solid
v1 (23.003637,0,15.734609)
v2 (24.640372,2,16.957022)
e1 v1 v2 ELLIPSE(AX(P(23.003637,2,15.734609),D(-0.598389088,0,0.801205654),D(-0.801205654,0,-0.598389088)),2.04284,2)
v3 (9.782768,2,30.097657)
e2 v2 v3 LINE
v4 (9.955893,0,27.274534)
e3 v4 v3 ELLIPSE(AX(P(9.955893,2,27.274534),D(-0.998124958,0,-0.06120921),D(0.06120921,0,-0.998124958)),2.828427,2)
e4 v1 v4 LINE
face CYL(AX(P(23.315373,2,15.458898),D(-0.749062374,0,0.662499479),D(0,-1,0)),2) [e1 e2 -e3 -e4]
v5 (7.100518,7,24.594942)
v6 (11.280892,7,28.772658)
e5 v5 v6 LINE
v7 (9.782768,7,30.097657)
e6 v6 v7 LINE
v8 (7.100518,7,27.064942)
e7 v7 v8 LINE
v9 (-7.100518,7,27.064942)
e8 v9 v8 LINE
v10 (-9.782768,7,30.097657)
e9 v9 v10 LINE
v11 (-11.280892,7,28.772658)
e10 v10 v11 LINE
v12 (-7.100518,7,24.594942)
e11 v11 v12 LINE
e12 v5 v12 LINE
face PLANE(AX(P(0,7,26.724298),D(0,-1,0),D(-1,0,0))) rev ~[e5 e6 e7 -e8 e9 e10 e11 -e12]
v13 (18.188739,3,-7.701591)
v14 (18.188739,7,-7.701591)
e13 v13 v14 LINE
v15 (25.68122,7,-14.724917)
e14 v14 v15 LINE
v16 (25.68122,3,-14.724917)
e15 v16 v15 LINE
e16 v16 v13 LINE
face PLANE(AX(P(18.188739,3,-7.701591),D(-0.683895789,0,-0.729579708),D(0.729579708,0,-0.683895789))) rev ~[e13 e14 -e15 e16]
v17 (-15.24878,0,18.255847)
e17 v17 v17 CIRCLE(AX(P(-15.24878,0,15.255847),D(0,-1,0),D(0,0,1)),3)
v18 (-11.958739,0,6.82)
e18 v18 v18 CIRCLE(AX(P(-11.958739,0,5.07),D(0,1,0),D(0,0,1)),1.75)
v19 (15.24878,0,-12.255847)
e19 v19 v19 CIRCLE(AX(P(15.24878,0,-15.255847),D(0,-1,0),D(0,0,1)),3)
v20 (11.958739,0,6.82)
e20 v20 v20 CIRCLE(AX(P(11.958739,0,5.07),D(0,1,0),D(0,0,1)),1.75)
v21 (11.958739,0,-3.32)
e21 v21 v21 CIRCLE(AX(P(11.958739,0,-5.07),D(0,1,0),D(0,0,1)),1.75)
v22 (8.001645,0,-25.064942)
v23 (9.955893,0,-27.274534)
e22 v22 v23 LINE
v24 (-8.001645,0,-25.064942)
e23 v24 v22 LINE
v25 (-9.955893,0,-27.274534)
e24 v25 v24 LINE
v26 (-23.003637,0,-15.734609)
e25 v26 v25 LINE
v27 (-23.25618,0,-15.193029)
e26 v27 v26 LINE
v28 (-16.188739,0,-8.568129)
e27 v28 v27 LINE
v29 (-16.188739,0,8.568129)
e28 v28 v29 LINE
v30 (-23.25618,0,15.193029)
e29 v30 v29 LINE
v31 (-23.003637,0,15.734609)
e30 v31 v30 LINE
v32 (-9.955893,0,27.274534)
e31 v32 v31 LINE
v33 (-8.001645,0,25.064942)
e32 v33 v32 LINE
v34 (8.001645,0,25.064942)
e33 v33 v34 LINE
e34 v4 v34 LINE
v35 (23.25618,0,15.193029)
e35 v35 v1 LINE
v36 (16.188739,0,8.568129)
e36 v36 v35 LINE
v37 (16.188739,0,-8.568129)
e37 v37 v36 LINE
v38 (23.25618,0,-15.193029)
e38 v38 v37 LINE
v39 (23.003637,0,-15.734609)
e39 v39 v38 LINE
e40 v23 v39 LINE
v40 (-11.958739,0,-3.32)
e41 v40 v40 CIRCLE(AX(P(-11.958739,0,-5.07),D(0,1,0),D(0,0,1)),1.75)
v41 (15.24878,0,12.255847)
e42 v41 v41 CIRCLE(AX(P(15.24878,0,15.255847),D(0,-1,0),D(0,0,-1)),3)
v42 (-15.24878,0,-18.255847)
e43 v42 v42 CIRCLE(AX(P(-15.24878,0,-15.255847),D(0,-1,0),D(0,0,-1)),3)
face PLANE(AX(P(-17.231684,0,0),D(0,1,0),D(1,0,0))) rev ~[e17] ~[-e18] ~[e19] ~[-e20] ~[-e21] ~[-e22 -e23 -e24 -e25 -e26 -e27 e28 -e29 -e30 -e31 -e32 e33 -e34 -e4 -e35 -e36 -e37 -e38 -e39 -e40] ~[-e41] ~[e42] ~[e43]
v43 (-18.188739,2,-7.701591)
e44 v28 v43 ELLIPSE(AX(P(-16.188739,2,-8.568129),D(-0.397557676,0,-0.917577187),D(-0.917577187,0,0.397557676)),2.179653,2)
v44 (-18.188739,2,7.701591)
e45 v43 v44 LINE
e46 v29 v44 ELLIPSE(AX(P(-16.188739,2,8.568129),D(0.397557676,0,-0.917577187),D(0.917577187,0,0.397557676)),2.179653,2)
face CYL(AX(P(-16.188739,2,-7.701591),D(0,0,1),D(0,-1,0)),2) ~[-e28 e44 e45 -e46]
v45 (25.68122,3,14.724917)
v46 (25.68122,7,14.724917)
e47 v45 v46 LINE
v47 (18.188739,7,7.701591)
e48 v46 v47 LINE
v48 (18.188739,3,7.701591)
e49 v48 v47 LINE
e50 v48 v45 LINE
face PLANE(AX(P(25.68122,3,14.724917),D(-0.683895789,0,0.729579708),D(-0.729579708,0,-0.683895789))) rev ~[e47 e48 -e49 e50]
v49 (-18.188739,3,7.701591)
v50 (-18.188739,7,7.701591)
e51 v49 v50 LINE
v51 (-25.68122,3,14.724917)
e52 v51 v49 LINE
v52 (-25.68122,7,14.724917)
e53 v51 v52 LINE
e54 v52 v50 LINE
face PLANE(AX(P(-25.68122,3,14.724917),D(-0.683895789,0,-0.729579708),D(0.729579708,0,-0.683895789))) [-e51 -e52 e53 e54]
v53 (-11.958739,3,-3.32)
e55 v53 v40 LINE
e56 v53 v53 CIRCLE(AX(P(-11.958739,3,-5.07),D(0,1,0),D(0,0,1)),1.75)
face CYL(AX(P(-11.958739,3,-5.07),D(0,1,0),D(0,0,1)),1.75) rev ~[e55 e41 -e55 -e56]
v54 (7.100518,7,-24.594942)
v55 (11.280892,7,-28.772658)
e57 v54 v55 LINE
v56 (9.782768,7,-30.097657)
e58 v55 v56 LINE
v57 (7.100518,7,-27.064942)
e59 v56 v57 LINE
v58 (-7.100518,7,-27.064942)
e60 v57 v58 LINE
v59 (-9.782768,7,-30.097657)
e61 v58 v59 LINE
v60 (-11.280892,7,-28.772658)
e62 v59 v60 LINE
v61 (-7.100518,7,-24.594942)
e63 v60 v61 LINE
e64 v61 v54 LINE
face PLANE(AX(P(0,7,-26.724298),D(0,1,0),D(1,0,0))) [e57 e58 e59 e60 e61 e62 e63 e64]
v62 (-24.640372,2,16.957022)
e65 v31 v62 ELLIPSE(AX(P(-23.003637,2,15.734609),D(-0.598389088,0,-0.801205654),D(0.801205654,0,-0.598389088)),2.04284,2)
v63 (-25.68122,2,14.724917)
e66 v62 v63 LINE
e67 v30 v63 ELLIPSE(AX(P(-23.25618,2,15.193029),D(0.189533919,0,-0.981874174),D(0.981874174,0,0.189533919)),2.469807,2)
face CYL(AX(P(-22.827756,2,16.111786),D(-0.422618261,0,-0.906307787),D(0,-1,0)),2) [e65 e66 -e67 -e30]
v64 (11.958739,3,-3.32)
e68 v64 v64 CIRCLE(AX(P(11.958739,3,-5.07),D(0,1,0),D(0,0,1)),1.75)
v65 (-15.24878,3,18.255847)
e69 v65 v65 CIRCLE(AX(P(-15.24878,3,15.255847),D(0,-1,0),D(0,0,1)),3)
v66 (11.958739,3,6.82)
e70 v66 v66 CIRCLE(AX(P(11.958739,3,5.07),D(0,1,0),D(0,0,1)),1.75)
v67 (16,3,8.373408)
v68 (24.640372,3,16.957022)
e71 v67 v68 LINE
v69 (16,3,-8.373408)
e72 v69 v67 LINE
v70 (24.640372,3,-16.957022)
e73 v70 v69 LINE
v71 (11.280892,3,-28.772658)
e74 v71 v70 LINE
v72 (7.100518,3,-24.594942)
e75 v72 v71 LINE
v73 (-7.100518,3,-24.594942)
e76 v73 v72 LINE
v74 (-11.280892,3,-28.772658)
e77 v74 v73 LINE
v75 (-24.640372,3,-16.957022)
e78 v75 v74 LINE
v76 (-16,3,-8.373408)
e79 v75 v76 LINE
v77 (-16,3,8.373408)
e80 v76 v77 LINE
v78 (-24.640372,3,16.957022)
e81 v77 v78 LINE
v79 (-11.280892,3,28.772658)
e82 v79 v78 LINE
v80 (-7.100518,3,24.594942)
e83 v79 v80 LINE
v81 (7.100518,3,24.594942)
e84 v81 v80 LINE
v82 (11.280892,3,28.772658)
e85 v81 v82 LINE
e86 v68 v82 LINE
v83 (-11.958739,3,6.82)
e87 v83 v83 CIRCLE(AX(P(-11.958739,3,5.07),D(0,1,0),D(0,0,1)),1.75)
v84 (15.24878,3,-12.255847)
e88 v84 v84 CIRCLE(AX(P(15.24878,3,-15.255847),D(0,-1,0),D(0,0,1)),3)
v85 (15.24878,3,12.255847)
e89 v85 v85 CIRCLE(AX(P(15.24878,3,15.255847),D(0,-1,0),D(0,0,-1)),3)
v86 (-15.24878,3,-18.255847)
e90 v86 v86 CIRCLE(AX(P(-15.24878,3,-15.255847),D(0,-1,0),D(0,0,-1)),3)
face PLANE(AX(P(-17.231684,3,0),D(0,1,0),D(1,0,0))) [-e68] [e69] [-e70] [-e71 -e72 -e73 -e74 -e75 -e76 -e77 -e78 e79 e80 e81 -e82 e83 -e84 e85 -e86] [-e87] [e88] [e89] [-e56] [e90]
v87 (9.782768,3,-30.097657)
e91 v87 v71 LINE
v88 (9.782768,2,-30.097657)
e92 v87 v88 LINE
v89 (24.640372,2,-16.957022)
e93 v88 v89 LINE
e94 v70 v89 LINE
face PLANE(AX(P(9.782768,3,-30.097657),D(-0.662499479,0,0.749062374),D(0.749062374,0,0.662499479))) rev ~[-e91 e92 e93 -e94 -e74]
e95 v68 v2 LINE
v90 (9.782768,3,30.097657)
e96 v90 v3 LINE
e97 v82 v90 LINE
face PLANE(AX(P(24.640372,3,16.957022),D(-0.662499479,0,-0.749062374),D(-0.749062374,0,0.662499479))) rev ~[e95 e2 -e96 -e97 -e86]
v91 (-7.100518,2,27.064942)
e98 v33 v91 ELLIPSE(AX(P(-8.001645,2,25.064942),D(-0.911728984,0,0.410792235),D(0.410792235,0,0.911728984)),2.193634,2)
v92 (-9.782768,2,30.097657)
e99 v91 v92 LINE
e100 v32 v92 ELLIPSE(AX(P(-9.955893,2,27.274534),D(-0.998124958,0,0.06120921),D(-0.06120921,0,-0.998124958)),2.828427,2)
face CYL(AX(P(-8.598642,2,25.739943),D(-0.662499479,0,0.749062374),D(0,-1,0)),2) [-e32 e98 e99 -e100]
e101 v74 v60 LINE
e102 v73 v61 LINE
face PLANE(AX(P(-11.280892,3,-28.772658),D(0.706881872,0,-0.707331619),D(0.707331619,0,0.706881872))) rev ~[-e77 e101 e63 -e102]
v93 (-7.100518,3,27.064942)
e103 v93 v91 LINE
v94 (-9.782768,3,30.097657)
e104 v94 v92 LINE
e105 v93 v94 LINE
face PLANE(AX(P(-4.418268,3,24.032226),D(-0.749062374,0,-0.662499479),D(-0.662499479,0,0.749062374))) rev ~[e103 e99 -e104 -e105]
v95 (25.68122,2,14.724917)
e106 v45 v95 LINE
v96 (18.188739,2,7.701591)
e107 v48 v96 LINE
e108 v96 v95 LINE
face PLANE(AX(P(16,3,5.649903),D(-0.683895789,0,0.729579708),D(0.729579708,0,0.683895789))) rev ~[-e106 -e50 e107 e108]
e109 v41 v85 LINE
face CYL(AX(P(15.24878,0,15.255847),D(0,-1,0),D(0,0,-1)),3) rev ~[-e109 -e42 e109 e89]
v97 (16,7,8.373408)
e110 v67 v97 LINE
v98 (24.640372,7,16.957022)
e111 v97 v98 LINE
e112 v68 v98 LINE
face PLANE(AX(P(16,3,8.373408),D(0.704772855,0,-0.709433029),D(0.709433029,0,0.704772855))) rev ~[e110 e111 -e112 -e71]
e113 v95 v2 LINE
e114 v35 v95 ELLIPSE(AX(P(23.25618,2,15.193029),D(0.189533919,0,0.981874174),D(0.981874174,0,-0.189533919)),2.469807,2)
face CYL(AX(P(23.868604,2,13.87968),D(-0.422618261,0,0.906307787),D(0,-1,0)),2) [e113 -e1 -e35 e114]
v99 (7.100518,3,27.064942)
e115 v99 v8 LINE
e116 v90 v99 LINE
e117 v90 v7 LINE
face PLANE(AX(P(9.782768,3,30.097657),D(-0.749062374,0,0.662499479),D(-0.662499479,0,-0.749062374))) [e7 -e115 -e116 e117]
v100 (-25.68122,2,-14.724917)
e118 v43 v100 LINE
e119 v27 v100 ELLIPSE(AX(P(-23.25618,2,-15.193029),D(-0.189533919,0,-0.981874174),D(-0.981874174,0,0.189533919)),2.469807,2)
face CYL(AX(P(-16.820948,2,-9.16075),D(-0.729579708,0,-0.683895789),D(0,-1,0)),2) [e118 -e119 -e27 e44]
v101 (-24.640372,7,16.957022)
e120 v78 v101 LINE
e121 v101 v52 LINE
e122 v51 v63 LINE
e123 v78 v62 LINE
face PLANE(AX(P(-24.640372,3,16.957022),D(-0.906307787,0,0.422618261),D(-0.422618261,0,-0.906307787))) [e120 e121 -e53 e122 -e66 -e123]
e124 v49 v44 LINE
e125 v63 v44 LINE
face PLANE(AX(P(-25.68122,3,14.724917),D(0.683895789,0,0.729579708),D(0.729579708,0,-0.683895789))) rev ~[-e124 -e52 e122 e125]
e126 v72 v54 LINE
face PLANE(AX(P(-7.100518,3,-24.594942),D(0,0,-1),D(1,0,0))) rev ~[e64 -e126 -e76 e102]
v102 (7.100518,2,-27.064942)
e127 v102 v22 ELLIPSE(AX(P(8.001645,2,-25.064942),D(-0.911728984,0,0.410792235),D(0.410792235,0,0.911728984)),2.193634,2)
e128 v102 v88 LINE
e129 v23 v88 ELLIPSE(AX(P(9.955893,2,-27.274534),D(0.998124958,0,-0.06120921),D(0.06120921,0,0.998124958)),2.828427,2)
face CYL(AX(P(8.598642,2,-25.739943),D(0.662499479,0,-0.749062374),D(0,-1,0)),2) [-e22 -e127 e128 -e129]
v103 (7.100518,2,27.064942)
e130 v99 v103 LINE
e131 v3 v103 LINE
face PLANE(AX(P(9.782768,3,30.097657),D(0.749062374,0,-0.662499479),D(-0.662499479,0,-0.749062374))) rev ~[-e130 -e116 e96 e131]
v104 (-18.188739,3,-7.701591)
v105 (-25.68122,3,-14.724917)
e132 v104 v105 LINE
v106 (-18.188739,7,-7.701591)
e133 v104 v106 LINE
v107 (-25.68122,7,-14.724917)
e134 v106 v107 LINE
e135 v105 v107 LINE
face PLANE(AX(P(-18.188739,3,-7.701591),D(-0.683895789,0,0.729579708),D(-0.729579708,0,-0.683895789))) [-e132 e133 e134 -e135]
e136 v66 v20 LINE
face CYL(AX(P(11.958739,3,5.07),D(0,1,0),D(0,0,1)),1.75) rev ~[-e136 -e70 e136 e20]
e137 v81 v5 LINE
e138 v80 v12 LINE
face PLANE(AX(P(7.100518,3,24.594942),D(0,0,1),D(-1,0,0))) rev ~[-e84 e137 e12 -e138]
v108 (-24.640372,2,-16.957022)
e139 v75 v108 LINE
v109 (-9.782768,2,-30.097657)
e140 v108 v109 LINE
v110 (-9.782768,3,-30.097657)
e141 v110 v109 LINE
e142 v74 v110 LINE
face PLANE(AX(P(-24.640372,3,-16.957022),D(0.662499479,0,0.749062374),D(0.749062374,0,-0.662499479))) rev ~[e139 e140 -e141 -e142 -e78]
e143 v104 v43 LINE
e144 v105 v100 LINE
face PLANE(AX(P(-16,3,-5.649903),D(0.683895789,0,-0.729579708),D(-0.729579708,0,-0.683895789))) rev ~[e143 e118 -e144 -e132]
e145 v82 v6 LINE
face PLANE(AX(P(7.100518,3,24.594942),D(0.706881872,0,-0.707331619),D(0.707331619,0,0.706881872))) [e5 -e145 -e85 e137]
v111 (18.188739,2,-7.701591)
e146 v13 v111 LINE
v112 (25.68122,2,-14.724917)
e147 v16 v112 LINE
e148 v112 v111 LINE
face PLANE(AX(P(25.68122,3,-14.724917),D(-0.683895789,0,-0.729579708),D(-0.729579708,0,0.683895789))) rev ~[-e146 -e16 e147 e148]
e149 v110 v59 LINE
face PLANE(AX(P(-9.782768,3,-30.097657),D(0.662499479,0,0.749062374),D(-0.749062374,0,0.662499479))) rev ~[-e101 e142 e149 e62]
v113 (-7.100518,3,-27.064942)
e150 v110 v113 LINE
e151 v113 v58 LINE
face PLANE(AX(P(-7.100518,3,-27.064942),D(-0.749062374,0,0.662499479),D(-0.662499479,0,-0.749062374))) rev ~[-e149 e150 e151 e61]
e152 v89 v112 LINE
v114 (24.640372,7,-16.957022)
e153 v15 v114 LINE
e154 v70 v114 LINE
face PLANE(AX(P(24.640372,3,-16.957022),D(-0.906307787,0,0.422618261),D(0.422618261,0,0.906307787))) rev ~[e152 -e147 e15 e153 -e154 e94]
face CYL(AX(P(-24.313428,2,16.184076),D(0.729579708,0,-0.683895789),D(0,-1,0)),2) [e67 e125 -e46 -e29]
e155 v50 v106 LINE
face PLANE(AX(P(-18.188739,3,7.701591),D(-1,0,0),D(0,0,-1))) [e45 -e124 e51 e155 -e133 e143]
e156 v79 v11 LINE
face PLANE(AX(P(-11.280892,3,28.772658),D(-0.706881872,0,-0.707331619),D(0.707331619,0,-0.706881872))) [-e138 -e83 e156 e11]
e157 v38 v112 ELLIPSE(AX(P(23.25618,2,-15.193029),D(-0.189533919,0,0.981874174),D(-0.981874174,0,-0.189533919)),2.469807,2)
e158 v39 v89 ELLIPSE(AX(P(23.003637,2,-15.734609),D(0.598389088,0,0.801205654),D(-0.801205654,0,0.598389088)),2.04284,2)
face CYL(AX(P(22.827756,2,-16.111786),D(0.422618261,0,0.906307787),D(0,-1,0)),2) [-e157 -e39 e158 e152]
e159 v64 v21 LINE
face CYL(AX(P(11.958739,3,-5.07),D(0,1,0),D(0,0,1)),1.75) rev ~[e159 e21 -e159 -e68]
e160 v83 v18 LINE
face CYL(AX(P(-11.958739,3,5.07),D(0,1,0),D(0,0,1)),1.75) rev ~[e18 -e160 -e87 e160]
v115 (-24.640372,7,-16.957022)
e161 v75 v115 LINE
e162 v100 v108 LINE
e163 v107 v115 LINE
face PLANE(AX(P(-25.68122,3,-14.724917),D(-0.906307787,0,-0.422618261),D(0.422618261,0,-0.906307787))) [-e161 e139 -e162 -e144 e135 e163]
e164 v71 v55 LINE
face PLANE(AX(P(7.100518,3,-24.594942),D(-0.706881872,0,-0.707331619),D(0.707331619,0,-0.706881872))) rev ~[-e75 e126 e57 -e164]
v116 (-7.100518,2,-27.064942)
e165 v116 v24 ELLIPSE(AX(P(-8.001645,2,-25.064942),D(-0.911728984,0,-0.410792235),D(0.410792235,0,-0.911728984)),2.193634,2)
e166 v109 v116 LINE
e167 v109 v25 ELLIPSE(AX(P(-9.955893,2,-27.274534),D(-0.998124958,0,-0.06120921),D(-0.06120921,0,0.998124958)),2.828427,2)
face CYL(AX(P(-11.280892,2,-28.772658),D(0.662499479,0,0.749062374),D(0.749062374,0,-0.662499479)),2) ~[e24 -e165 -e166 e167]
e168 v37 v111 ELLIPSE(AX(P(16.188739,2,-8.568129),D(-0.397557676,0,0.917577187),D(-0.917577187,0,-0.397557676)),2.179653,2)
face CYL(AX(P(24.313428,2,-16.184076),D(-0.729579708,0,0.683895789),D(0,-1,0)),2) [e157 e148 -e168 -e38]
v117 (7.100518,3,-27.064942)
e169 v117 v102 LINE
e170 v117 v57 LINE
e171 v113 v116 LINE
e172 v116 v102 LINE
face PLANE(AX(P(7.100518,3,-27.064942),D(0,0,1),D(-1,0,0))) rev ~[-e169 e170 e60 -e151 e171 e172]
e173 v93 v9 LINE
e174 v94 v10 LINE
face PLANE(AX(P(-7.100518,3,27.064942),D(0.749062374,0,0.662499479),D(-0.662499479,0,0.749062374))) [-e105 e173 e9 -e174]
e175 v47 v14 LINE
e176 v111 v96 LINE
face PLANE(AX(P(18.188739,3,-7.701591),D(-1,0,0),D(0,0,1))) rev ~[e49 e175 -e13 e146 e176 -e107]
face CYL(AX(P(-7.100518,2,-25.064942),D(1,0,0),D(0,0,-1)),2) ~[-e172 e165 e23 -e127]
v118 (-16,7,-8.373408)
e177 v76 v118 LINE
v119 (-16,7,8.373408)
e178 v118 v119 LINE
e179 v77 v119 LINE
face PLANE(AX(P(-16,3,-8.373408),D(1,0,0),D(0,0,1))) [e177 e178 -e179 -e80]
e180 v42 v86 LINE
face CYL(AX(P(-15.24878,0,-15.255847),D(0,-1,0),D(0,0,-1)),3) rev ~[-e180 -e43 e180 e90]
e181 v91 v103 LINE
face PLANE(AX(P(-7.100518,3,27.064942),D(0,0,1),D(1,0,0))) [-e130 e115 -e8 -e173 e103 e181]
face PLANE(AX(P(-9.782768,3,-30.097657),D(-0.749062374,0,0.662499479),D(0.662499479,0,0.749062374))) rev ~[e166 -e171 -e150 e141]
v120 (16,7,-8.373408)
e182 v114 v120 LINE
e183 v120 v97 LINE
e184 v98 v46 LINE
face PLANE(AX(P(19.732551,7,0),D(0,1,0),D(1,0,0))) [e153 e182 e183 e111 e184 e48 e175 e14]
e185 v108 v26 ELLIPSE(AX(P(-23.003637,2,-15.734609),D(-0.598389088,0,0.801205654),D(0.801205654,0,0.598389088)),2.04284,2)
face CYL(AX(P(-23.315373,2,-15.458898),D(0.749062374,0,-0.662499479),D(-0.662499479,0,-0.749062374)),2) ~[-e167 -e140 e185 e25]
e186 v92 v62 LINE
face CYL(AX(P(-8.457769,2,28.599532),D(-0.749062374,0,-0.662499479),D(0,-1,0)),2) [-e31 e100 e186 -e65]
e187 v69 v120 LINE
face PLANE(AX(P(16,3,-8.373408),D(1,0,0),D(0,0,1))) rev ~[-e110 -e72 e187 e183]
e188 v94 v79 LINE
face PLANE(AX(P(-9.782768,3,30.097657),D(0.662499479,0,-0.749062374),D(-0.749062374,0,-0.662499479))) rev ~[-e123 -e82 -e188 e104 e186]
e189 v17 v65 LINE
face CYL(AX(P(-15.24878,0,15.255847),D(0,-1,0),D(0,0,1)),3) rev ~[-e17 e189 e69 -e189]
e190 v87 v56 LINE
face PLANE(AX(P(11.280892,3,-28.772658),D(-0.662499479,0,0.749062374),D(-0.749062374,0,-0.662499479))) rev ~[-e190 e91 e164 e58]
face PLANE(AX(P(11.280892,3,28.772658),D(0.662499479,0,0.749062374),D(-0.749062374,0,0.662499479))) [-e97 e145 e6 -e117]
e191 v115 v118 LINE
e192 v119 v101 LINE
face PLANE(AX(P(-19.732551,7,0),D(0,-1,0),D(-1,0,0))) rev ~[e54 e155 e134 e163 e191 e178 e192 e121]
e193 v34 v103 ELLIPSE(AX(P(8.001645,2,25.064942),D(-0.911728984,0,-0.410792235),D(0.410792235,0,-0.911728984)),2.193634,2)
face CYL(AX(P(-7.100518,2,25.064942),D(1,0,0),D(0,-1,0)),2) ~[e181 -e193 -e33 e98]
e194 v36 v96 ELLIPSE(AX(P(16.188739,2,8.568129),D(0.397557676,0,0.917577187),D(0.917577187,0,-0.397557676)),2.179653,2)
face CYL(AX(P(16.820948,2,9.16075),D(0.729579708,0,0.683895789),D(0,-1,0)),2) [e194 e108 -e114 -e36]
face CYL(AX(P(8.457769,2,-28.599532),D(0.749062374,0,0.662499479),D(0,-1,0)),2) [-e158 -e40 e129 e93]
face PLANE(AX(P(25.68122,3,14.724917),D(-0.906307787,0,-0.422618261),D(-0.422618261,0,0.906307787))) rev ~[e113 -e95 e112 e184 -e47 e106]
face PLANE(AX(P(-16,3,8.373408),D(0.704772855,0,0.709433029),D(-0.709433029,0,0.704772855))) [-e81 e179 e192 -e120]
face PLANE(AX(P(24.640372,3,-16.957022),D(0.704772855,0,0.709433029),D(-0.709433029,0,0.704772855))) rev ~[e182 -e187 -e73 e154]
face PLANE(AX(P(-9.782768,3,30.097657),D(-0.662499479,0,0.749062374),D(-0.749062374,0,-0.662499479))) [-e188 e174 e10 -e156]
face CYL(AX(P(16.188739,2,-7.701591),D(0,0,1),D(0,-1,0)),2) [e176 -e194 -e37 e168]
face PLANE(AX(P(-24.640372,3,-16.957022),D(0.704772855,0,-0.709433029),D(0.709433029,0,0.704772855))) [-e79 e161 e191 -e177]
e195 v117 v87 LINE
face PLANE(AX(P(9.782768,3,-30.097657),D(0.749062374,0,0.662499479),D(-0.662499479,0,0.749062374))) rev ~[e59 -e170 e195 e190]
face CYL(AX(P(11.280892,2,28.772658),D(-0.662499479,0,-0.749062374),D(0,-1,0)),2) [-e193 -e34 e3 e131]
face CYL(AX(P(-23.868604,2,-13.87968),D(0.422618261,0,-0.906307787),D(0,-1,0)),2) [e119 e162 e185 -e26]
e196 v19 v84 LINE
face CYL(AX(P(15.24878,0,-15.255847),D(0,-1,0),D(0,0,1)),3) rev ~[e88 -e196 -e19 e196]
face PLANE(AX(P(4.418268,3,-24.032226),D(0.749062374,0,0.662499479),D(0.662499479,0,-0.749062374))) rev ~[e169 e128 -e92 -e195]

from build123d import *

# Parameters (mm, degrees)
SKETCH1_W           = 55
SKETCH1_H           = 64.43
BOSS_EXTRUDE1_DEPTH = 3
CUT_EXTRUDE1_DEPTH  = 4
SKETCH3_OUTSIDE_W   = 73.954
SKETCH3_OUTSIDE_H   = 83.384
CUT_EXTRUDE4_DEPTH  = 4
BOSS_EXTRUDE2_DEPTH = 3
BOSS_EXTRUDE3_DEPTH = 3
BOSS_EXTRUDE4_DEPTH = 4
BOSS_EXTRUDE5_DEPTH = 4
FILLET1_R           = 2
SKETCH9_R           = 1.75
CUT_EXTRUDE6_DEPTH  = 40.766745199
SKETCH10_R          = 3
CUT_EXTRUDE7_DEPTH  = 3
SKETCH11_R          = 1.75
CUT_EXTRUDE8_DEPTH  = 40.766745199


with BuildPart() as part:
    # Sketch1 → Boss-Extrude1 (new body)
    with BuildSketch(Plane(origin=(0, 0, 0), x_dir=(1, 0, 0), z_dir=(0, 1, 0))):
        Rectangle(SKETCH1_W, SKETCH1_H)
    extrude(amount=BOSS_EXTRUDE1_DEPTH)

    # Sketch2 → Cut-Extrude1 (cut)
    with BuildSketch(Plane(origin=(0, 3, 0), x_dir=(1, 0, 0), z_dir=(0, 1, 0))):
        Polygon((-27.5, -4.791277462), (-27.5, -14.373832386), (-17.5, -5), (-17.5, 5), (-27.5, 14.373832386), (-27.5, 4.791277462), align=None)
        Polygon((27.5, 4.791277462), (27.5, 14.373832386), (17.5, 5), (17.5, -5), (27.5, -14.373832386), (27.5, -4.791277462), align=None)
    extrude(amount=-CUT_EXTRUDE1_DEPTH, mode=Mode.SUBTRACT)

    # Sketch3 outside → Cut-Extrude4 (cut)
    with BuildSketch(Plane(origin=(0, 3, 0), x_dir=(1, 0, 0), z_dir=(0, 1, 0))):
        Rectangle(SKETCH3_OUTSIDE_W, SKETCH3_OUTSIDE_H)
        Polygon((-16, -5.649903378), (-16, 0), (-16, 5.649903378), (-25.681219861, 14.724916605), (-24.640371834, 16.957022404), (-9.782767538, 30.09765722), (-4.418267546, 24.032225889), (4.418267546, 24.032225889), (9.782767538, 30.09765722), (24.640371834, 16.957022404), (25.681219861, 14.724916605), (16, 5.649903378), (16, -5.649903378), (25.681219861, -14.724916605), (24.640371834, -16.957022404), (9.782767538, -30.09765722), (4.418267546, -24.032225889), (-4.418267546, -24.032225889), (-9.782767538, -30.09765722), (-24.640371834, -16.957022404), (-25.681219861, -14.724916605), align=None, mode=Mode.SUBTRACT)
    extrude(amount=-CUT_EXTRUDE4_DEPTH, mode=Mode.SUBTRACT)

    # Sketch4 → Boss-Extrude2 (add)
    with BuildSketch(Plane(origin=(0, 3, 0), x_dir=(1, 0, 0), z_dir=(0, 1, 0))):
        Polygon((-7.100517542, 27.064941555), (7.100517542, 27.064941555), (4.418267546, 24.032225889), (-4.418267546, 24.032225889), align=None)
        Polygon((-7.100517542, -27.064941555), (7.100517542, -27.064941555), (4.418267546, -24.032225889), (-4.418267546, -24.032225889), align=None)
    extrude(amount=-BOSS_EXTRUDE2_DEPTH)

    # Sketch5 → Boss-Extrude3 (add)
    with BuildSketch(Plane(origin=(0, 3, 0), x_dir=(1, 0, 0), z_dir=(0, 1, 0))):
        Polygon((-16, 5.649903378), (-18.188739123, 7.701590745), (-18.188739123, -7.701590745), (-16, -5.649903378), align=None)
        Polygon((16, 5.649903378), (18.188739123, 7.701590745), (18.188739123, -7.701590745), (16, -5.649903378), align=None)
    extrude(amount=-BOSS_EXTRUDE3_DEPTH)

    # Sketch6 → Boss-Extrude4 (add)
    with BuildSketch(Plane(origin=(0, 3, 0), x_dir=(1, 0, 0), z_dir=(0, 1, 0))):
        Polygon((-24.640371834, -16.957022404), (-25.681219861, -14.724916605), (-18.188739123, -7.701590745), (-18.188739123, 7.701590745), (-25.681219861, 14.724916605), (-24.640371834, 16.957022404), (-16, 8.373408054), (-16, -8.373408054), align=None)
        Polygon((16, -8.373408054), (24.640371834, -16.957022404), (25.681219861, -14.724916605), (18.188739123, -7.701590745), (18.188739123, 7.701590745), (25.681219861, 14.724916605), (24.640371834, 16.957022404), (16, 8.373408054), align=None)
    extrude(amount=BOSS_EXTRUDE4_DEPTH)

    # Sketch7 → Boss-Extrude5 (add)
    with BuildSketch(Plane(origin=(0, 3, 0), x_dir=(1, 0, 0), z_dir=(0, 1, 0))):
        Polygon((-1, 27.064941555), (-7.100517542, 27.064941555), (-9.782767538, 30.09765722), (-11.280892286, 28.772658262), (-7.100517542, 24.594941555), (-1, 24.594941555), (1, 24.594941555), (7.100517542, 24.594941555), (11.280892286, 28.772658262), (9.782767538, 30.09765722), (7.100517542, 27.064941555), (1, 27.064941555), align=None)
        Polygon((-1, -27.064941555), (-7.100517542, -27.064941555), (-9.782767538, -30.09765722), (-11.280892286, -28.772658262), (-7.100517542, -24.594941555), (-1, -24.594941555), (1, -24.594941555), (7.100517542, -24.594941555), (11.280892286, -28.772658262), (9.782767538, -30.09765722), (7.100517542, -27.064941555), (1, -27.064941555), align=None)
    extrude(amount=BOSS_EXTRUDE5_DEPTH)

    # Fillet1
    fillet1_edges = [part.edges().sort_by_distance(p)[0] for p in [
        (0, 0, -27.064941555),
        (0, 0, 27.064941555),
        (-21.934979492, 0, 11.213253675),
        (-21.934979492, 0, -11.213253675),
        (21.934979492, 0, -11.213253675),
        (21.934979492, 0, 11.213253675),
        (-18.188739123, 0, 0),
        (18.188739123, 0, 0),
        (-25.160795848, 0, 15.840969504),
        (-17.211569686, 0, 23.527339812),
        (-8.44164254, 0, 28.581299387),
        (8.44164254, 0, 28.581299387),
        (17.211569686, 0, 23.527339812),
        (25.160795848, 0, 15.840969504),
        (25.160795848, 0, -15.840969504),
        (17.211569686, 0, -23.527339812),
        (8.44164254, 0, -28.581299387),
        (-8.44164254, 0, -28.581299387),
        (-17.211569686, 0, -23.527339812),
        (-25.160795848, 0, -15.840969504),
    ]]
    fillet(fillet1_edges, radius=FILLET1_R)

    # Sketch9 → Cut-Extrude6 (cut, through all)
    with BuildSketch(Plane(origin=(0, 3, 0), x_dir=(1, 0, 0), z_dir=(0, 1, 0))):
        with Locations(Location((15.251219861, -15.244152763, 0), (0, 0, 270))):
            Circle(SKETCH9_R)
        with Locations(Location((15.251219861, 15.255847237, 0), (0, 0, 270))):
            Circle(SKETCH9_R)
        with Locations(Location((-15.248780139, 15.255847237, 0), (0, 0, 270))):
            Circle(SKETCH9_R)
        with Locations(Location((-15.248780139, -15.244152763, 0), (0, 0, 270))):
            Circle(SKETCH9_R)
    extrude(amount=-CUT_EXTRUDE6_DEPTH, mode=Mode.SUBTRACT)

    # Sketch10 → Cut-Extrude7 (cut)
    with BuildSketch(Plane.XZ):
        with Locations(Location((-15.248780139, -15.255847237, 0), (0, 0, 270))):
            Circle(SKETCH10_R)
        with Locations(Location((-15.248780139, 15.255847237, 0), (0, 0, 90))):
            Circle(SKETCH10_R)
        with Locations(Location((15.248780139, -15.255847237, 0), (0, 0, 90))):
            Circle(SKETCH10_R)
        with Locations(Location((15.248780139, 15.255847237, 0), (0, 0, 270))):
            Circle(SKETCH10_R)
    extrude(amount=-CUT_EXTRUDE7_DEPTH, mode=Mode.SUBTRACT)

    # Sketch11 → Cut-Extrude8 (cut, through all)
    with BuildSketch(Plane(origin=(0, 3, 0), x_dir=(1, 0, 0), z_dir=(0, 1, 0))):
        with Locations(Location((11.958739123, -5.07, 0), (0, 0, 270))):
            Circle(SKETCH11_R)
        with Locations(Location((11.958739123, 5.07, 0), (0, 0, 270))):
            Circle(SKETCH11_R)
        with Locations(Location((-11.958739123, -5.07, 0), (0, 0, 270))):
            Circle(SKETCH11_R)
        with Locations(Location((-11.958739123, 5.07, 0), (0, 0, 270))):
            Circle(SKETCH11_R)
    extrude(amount=-CUT_EXTRUDE8_DEPTH, mode=Mode.SUBTRACT)


solid = part.part
